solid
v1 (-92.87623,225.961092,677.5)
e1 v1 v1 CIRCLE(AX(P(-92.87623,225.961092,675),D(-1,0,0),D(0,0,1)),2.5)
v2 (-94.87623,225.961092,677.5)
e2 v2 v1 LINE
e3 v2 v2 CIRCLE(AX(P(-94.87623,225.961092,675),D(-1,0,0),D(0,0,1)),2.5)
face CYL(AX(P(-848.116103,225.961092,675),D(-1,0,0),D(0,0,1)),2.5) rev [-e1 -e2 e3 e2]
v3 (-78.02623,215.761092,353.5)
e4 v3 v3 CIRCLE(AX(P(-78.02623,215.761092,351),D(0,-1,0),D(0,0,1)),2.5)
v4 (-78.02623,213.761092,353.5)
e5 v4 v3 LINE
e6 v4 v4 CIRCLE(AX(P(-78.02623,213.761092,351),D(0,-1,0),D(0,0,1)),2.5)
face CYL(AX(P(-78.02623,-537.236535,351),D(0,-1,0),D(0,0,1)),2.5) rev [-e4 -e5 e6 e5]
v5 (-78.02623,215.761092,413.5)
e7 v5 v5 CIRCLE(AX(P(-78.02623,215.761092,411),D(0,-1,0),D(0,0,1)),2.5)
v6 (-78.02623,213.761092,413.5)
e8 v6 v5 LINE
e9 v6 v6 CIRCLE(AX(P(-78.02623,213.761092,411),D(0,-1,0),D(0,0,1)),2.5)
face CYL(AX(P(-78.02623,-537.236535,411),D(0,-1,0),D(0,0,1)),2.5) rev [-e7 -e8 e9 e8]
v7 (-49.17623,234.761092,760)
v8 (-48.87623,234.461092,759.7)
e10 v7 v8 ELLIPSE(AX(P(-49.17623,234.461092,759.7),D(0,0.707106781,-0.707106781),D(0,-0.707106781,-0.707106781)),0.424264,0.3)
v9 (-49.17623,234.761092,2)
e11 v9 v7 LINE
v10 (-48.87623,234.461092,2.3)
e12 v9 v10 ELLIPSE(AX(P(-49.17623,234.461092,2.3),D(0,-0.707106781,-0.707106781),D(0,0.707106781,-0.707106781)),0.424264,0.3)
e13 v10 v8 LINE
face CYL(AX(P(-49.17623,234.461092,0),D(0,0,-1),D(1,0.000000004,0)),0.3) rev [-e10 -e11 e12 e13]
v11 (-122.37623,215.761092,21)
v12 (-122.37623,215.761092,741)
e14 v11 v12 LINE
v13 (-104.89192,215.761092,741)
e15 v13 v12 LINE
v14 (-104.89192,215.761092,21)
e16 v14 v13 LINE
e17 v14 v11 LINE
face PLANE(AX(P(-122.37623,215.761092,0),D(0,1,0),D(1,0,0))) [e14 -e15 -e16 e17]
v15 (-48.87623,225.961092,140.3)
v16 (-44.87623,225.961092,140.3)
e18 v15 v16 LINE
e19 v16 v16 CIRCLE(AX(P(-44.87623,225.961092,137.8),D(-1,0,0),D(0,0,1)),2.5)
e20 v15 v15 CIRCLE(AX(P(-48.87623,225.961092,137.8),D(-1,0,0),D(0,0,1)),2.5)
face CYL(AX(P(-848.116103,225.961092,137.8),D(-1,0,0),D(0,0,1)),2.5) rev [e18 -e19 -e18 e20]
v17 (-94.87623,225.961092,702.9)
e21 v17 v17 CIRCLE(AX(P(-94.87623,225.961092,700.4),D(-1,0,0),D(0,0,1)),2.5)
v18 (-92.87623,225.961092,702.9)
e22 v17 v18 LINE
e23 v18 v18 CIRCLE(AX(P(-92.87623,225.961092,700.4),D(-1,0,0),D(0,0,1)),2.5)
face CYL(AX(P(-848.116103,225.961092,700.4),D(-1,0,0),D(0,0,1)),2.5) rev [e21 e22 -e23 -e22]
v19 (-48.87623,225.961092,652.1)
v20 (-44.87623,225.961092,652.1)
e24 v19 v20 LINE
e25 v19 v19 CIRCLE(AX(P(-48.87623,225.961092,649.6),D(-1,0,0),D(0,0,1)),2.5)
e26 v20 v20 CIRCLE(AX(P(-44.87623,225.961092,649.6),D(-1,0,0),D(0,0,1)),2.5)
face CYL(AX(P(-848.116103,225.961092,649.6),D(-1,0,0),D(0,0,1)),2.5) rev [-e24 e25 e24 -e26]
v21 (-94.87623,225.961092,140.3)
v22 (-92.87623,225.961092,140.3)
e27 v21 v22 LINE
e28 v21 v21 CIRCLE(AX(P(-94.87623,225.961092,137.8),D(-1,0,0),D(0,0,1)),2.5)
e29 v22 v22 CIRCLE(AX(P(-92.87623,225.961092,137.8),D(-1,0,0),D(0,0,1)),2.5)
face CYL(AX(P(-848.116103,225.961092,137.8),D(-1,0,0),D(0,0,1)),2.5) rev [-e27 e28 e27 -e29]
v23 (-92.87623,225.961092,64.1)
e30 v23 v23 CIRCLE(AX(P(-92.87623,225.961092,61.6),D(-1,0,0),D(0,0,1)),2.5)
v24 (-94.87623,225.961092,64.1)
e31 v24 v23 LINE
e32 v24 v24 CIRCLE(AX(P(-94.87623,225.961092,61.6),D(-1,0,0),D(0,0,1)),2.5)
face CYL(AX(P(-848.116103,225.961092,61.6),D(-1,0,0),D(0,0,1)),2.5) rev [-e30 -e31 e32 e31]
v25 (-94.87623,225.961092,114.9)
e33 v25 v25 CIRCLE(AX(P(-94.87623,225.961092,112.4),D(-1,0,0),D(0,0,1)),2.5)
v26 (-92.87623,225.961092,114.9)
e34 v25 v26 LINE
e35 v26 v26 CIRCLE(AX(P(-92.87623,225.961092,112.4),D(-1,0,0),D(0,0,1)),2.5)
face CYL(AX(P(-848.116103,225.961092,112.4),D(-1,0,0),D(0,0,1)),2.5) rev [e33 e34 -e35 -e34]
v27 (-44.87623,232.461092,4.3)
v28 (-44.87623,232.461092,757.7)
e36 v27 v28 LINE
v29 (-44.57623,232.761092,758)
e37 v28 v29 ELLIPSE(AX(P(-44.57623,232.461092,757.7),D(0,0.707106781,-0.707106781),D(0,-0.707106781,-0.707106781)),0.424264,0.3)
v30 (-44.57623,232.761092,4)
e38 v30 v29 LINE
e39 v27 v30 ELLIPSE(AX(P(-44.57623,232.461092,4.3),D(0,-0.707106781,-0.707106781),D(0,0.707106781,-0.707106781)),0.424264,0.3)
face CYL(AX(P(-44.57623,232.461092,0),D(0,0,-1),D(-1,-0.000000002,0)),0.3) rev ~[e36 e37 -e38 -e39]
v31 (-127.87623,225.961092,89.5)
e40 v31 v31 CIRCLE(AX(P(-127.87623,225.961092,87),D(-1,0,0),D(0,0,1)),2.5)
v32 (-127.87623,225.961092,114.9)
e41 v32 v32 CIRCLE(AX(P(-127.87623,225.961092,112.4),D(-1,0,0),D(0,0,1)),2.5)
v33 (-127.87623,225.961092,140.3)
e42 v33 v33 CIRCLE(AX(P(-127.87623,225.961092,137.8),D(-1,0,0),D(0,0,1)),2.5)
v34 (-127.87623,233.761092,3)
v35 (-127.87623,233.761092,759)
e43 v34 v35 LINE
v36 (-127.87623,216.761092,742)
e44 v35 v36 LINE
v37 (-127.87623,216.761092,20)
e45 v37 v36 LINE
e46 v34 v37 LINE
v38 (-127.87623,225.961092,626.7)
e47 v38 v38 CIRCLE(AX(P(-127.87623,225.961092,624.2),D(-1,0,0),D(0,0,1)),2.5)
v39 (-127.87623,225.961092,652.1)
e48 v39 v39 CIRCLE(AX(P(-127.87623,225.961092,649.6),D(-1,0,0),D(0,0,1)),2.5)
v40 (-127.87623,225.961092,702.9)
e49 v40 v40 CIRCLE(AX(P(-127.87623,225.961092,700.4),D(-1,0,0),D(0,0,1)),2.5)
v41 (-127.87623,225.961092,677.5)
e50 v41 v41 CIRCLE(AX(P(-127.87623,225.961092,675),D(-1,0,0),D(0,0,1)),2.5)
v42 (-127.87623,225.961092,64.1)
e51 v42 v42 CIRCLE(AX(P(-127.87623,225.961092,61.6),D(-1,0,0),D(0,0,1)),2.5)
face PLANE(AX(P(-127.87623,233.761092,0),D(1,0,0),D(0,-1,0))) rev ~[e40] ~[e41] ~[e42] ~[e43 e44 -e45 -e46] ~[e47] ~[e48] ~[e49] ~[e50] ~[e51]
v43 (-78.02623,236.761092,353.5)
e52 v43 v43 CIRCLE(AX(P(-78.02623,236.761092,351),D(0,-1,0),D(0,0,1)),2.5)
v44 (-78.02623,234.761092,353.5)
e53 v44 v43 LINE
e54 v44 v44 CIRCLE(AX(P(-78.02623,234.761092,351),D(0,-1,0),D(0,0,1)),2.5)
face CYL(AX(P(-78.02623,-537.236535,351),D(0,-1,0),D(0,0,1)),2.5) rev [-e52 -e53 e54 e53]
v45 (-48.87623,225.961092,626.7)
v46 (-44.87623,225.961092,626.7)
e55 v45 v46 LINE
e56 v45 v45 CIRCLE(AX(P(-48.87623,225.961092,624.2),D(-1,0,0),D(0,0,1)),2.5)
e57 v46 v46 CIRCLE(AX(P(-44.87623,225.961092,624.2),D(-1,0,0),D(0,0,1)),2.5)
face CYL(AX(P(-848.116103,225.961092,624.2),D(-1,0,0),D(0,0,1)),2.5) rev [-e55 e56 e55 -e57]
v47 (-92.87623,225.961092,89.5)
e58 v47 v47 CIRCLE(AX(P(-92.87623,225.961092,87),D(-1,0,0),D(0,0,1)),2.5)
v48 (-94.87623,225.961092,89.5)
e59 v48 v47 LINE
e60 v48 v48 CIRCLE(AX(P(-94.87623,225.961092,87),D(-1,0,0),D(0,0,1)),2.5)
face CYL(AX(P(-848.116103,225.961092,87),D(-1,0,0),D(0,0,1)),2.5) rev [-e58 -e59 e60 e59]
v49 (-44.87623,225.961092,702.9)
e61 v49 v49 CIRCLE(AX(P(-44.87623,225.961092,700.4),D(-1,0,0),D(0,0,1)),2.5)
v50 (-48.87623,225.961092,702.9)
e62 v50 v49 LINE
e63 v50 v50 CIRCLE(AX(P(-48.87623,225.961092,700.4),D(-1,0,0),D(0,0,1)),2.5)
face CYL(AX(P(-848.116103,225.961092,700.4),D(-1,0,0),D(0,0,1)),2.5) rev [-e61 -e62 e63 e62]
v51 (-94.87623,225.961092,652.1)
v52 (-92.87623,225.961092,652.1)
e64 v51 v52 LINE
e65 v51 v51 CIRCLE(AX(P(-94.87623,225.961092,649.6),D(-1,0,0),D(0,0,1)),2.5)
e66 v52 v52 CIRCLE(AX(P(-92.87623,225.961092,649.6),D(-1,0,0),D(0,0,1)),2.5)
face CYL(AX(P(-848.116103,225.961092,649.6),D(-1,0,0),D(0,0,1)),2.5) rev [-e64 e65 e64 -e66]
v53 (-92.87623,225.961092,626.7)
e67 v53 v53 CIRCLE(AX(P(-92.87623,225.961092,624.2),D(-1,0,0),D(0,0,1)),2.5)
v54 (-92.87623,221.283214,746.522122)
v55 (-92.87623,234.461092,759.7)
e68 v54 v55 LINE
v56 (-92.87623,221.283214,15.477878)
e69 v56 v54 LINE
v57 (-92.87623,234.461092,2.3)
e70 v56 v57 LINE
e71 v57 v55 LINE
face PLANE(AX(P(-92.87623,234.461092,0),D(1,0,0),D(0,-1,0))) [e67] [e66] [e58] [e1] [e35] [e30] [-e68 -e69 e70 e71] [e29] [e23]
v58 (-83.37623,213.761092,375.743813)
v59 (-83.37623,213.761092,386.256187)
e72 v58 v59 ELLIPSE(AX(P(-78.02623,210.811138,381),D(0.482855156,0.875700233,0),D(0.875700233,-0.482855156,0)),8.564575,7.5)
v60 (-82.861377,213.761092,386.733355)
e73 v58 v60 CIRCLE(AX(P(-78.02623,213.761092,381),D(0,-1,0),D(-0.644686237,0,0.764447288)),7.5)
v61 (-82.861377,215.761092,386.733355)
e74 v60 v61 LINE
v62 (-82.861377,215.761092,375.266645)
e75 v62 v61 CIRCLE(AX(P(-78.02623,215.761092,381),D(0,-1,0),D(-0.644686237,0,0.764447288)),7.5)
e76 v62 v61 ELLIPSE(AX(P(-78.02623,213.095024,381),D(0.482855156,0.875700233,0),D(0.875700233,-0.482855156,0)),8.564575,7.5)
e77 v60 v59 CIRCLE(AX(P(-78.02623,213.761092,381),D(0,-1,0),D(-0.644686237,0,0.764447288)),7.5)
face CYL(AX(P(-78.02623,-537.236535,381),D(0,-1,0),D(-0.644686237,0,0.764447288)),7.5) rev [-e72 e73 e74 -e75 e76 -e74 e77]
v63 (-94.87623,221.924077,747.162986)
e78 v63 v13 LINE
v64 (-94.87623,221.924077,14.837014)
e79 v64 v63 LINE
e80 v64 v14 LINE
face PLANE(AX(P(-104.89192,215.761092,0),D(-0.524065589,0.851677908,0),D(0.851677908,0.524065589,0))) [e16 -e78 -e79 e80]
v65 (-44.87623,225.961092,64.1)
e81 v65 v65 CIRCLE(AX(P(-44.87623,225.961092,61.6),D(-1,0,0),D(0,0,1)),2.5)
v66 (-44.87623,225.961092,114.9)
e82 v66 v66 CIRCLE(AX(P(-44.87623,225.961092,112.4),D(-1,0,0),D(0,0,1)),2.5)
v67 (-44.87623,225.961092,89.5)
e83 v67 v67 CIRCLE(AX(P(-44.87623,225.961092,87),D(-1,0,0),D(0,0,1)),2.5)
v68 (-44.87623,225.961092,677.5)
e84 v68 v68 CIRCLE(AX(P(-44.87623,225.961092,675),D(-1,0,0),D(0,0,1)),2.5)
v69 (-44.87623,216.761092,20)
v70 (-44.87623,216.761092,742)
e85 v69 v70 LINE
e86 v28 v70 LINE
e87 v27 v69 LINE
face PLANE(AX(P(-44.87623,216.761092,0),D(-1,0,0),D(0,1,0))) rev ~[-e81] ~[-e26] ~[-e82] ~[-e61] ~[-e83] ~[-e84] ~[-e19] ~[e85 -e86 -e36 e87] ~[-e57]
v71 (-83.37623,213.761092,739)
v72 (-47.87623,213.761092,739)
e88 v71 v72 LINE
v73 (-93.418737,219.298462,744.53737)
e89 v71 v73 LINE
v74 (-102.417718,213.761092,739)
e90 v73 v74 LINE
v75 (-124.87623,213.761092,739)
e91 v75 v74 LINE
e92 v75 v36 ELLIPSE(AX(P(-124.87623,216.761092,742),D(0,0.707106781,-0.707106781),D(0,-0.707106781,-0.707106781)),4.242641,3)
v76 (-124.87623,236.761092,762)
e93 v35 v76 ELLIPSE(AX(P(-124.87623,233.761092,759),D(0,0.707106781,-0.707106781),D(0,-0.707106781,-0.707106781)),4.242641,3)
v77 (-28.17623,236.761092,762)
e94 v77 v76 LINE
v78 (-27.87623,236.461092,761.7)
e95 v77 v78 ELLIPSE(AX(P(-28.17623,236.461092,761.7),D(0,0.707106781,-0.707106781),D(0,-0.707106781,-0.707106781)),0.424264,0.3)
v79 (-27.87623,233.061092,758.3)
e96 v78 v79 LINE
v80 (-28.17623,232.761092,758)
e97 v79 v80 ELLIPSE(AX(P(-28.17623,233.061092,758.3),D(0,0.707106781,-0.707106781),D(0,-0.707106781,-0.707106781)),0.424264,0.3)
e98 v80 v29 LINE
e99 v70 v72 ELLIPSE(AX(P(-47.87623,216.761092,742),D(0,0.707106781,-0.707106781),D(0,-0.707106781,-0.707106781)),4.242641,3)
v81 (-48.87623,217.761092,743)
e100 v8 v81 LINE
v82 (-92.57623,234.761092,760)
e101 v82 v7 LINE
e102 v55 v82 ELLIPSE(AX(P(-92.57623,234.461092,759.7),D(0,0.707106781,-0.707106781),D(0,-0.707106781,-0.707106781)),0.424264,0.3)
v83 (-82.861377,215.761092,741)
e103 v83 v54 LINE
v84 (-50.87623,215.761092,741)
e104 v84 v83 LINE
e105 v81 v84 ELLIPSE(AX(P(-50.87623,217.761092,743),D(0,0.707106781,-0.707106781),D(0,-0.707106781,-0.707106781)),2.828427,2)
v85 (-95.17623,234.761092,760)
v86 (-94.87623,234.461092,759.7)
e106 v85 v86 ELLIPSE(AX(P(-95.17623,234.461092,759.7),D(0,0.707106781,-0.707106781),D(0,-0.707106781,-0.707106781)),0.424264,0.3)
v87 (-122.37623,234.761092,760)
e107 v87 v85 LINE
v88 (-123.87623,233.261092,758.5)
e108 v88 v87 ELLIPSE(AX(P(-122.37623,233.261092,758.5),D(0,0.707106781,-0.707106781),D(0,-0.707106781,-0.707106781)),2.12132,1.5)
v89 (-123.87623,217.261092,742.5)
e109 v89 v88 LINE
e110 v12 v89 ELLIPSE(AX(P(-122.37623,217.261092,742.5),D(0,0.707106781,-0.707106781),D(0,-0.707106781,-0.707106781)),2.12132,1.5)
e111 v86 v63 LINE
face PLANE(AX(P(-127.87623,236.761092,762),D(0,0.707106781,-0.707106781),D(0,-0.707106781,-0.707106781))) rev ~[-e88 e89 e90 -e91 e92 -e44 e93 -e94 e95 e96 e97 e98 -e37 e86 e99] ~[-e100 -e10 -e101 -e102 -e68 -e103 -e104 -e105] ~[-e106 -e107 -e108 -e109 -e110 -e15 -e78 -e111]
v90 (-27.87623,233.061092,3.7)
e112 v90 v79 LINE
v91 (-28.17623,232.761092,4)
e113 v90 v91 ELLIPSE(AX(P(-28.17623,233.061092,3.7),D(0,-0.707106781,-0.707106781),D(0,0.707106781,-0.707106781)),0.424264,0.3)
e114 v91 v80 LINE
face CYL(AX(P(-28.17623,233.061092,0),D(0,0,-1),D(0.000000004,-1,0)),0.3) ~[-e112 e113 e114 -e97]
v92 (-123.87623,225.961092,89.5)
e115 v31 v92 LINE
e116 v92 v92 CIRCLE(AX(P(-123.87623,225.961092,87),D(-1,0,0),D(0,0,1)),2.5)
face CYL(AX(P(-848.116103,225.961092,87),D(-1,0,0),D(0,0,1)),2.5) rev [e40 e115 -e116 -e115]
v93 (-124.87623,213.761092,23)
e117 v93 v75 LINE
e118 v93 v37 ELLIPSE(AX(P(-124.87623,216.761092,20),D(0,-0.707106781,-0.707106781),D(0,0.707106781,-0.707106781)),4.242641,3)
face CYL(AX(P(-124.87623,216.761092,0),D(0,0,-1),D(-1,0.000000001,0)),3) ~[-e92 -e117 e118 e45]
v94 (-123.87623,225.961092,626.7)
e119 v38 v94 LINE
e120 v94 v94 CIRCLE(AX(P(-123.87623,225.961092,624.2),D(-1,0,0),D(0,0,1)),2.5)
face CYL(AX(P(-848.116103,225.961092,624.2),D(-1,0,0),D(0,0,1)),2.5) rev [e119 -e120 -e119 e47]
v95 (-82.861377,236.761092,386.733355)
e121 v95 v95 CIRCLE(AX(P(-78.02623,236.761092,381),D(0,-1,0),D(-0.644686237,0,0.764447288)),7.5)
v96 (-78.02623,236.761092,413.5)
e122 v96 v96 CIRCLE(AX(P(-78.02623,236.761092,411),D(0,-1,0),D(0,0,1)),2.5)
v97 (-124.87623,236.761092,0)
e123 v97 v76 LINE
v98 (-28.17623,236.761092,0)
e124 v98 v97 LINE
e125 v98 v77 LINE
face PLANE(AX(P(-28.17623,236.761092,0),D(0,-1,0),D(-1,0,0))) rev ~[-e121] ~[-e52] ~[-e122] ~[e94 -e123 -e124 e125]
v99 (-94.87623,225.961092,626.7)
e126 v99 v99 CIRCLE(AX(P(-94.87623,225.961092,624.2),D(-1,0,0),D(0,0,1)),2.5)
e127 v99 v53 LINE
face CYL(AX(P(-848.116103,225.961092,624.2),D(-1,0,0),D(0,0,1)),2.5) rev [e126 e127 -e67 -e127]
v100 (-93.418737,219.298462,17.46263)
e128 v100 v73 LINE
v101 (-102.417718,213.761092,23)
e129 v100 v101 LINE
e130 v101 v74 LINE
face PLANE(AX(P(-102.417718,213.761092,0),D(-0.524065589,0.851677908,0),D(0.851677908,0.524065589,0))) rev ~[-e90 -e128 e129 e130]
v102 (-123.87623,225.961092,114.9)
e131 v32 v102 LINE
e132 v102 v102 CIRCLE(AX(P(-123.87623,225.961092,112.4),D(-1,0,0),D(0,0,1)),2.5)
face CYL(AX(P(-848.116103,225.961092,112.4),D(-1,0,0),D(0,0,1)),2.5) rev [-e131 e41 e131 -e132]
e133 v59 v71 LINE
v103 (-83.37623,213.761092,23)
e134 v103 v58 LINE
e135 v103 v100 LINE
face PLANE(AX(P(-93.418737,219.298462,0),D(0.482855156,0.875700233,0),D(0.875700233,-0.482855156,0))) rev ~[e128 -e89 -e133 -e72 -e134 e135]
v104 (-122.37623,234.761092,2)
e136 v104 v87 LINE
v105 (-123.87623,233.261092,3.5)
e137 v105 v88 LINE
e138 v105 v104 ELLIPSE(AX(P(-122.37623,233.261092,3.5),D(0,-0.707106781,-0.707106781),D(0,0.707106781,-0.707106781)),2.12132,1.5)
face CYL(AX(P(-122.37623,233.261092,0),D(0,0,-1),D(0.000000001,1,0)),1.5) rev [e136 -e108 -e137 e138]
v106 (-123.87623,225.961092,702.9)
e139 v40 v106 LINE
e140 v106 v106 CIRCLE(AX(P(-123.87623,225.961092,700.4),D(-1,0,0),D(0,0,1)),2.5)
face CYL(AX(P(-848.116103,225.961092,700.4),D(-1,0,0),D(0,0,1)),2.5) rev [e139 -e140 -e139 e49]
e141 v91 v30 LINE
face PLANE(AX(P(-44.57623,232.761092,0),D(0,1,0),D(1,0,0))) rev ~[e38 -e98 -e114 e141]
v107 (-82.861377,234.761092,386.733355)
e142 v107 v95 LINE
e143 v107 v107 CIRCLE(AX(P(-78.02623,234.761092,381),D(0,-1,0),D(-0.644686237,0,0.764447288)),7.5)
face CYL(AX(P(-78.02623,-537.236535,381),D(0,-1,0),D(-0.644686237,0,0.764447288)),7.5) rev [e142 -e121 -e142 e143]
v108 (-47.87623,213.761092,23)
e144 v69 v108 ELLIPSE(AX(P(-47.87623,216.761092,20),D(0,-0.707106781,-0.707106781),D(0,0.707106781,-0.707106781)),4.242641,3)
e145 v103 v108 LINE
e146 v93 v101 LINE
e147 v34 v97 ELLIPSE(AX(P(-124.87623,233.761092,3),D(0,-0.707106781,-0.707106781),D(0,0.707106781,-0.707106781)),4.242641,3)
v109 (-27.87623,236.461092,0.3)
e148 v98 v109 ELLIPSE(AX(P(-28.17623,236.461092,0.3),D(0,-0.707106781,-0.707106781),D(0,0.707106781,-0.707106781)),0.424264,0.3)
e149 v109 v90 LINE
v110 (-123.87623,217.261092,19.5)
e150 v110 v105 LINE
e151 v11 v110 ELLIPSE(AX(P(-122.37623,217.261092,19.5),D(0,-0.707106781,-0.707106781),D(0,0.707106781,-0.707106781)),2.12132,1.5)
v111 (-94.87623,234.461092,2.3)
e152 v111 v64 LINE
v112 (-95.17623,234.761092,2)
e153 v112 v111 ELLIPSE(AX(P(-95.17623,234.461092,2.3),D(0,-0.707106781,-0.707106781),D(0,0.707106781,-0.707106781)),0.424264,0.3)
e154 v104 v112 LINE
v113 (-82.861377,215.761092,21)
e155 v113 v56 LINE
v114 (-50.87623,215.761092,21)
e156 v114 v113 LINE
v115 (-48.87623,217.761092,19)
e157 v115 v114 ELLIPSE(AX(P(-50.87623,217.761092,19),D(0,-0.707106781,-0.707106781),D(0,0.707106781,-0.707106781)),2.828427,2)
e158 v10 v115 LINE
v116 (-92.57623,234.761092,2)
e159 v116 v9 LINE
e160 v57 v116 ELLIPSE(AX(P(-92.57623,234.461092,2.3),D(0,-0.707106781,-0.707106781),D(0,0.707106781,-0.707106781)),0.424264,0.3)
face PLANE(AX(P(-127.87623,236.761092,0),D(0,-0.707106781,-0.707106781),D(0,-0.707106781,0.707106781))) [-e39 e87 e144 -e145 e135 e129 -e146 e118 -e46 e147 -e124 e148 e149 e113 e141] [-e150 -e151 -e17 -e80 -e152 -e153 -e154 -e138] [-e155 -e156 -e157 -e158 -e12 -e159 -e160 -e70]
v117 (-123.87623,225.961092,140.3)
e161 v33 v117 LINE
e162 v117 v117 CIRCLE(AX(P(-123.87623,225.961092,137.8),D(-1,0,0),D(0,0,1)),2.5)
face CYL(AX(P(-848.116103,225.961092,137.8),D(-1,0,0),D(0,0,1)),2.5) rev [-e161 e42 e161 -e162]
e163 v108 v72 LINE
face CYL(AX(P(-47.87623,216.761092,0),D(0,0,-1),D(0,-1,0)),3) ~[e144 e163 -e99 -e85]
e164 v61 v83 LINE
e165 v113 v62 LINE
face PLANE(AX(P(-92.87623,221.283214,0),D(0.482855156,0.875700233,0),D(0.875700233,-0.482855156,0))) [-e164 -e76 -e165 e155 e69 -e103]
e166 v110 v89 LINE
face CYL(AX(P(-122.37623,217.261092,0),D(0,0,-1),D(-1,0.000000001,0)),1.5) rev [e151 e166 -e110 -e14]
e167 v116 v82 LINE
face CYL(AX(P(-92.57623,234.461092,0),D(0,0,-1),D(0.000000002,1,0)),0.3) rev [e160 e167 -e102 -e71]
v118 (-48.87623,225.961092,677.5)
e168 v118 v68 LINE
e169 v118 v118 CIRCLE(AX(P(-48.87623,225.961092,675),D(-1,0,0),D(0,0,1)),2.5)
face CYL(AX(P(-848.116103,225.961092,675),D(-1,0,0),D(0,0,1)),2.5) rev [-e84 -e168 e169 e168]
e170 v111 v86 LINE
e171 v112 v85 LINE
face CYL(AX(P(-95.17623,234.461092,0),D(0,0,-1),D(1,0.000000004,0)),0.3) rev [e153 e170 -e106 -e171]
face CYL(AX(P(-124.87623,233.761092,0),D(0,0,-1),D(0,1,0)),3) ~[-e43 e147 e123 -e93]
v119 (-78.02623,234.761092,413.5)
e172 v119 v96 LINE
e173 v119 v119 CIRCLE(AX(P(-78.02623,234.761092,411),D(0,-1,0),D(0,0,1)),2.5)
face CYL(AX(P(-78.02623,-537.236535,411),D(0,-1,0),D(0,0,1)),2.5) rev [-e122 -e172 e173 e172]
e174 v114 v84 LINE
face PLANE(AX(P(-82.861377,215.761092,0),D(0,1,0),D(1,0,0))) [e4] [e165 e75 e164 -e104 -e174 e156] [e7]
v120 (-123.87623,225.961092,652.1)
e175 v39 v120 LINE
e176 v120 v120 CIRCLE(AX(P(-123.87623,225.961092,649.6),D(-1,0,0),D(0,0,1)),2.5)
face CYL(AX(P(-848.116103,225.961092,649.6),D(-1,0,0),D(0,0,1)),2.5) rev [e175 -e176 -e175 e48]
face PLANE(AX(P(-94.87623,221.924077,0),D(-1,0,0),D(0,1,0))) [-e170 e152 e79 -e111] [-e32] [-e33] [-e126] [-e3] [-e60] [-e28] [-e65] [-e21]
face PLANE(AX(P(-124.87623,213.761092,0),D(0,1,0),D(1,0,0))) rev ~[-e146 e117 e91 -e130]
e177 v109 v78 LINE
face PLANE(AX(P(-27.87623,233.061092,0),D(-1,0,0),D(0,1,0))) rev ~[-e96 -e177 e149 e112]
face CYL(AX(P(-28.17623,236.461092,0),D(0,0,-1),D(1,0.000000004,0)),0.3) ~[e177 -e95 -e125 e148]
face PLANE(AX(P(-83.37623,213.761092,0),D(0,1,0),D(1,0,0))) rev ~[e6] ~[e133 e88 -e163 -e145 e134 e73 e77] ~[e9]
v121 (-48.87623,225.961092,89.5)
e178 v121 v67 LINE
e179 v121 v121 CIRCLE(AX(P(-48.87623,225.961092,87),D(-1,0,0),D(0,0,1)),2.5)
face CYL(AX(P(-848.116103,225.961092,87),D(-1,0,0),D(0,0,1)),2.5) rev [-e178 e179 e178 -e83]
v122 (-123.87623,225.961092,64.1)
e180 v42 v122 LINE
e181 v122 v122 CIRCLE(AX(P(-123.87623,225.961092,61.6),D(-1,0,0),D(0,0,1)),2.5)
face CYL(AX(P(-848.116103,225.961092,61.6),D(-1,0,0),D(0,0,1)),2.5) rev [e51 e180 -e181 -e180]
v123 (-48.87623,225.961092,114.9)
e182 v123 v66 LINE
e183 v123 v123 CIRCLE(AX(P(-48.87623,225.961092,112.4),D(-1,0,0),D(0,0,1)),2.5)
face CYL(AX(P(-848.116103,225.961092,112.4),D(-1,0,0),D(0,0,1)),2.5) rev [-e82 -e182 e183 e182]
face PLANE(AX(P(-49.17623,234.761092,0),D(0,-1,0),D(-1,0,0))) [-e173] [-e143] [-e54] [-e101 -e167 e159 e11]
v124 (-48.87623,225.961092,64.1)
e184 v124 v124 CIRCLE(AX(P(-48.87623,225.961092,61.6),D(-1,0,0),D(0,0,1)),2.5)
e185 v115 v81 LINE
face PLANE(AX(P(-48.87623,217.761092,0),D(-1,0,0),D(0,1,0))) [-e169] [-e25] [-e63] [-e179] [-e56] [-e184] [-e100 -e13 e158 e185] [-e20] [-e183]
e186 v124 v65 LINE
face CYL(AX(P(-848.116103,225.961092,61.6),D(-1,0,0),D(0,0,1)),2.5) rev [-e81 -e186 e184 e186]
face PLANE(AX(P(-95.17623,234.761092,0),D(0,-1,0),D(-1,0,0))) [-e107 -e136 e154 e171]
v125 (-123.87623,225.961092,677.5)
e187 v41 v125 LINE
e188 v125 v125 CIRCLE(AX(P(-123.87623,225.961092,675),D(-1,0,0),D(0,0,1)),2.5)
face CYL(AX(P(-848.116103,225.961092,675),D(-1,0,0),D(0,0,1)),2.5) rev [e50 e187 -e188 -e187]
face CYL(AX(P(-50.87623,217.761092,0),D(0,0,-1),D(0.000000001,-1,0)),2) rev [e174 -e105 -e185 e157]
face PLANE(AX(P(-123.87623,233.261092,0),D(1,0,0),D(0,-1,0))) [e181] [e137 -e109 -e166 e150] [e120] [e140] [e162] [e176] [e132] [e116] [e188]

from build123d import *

# Parameters (mm, degrees)
BOSS_EXTRUDE1_DEPTH     = 762
CUT_EXTRUDE1_DEPTH      = 805.176482163
CUT_EXTRUDE2_DEPTH      = 803.239873394
CUT_EXTRUDE2_DEPTH_BACK = 803.239873394
SKETCH4_R               = 2.5
CUT_EXTRUDE3_DEPTH      = 773.997626217
CUT_EXTRUDE3_DEPTH_BACK = 773.997626217
SKETCH5_R               = 7.5
SKETCH5_R_2             = 2.5


with BuildPart() as part:
    # Sketch2 → Boss-Extrude1 (new body)
    with BuildSketch(Plane.XY):
        with BuildLine():
            Line((-28.176229758, 236.761091532), (-124.876229758, 236.761091532))
            ThreePointArc((-124.876229758, 236.761091532), (-126.997550102, 235.882411875), (-127.876229758, 233.761091532))
            Line((-127.876229758, 233.761091532), (-127.876229758, 216.761091532))
            ThreePointArc((-127.876229758, 216.761091532), (-126.997550102, 214.639771188), (-124.876229758, 213.761091532))
            Line((-124.876229758, 213.761091532), (-102.417718129, 213.761091532))
            Line((-102.417718129, 213.761091532), (-93.418737463, 219.298462014))
            Line((-93.418737463, 219.298462014), (-83.376229758, 213.761091532))
            Line((-83.376229758, 213.761091532), (-47.876229758, 213.761091532))
            ThreePointArc((-47.876229758, 213.761091532), (-45.754909415, 214.639771188), (-44.876229758, 216.761091532))
            Line((-44.876229758, 216.761091532), (-44.876229758, 232.461091532))
            ThreePointArc((-44.876229758, 232.461091532), (-44.788361793, 232.673223566), (-44.576229758, 232.761091532))
            Line((-44.576229758, 232.761091532), (-28.176229758, 232.761091532))
            ThreePointArc((-28.176229758, 232.761091532), (-27.964097724, 232.848959498), (-27.876229758, 233.061091532))
            Line((-27.876229758, 233.061091532), (-27.876229758, 236.461091532))
            ThreePointArc((-27.876229758, 236.461091532), (-27.964097724, 236.673223566), (-28.176229758, 236.761091532))
        make_face()
        with BuildLine():
            Line((-49.176229758, 234.761091532), (-92.576229758, 234.761091532))
            ThreePointArc((-92.576229758, 234.761091532), (-92.788361793, 234.673223566), (-92.876229758, 234.461091532))
            Line((-92.876229758, 234.461091532), (-92.876229758, 221.283213521))
            Line((-92.876229758, 221.283213521), (-82.861376535, 215.761091532))
            Line((-82.861376535, 215.761091532), (-50.876229758, 215.761091532))
            ThreePointArc((-50.876229758, 215.761091532), (-49.462016196, 216.34687797), (-48.876229758, 217.761091532))
            Line((-48.876229758, 217.761091532), (-48.876229758, 234.461091532))
            ThreePointArc((-48.876229758, 234.461091532), (-48.964097724, 234.673223566), (-49.176229758, 234.761091532))
        make_face(mode=Mode.SUBTRACT)
        with BuildLine():
            Line((-95.176229758, 234.761091532), (-122.376229758, 234.761091532))
            ThreePointArc((-122.376229758, 234.761091532), (-123.43688993, 234.321751704), (-123.876229758, 233.261091532))
            Line((-123.876229758, 233.261091532), (-123.876229758, 217.261091532))
            ThreePointArc((-123.876229758, 217.261091532), (-123.43688993, 216.20043136), (-122.376229758, 215.761091532))
            Line((-122.376229758, 215.761091532), (-104.891920236, 215.761091532))
            Line((-104.891920236, 215.761091532), (-94.876229758, 221.924077192))
            Line((-94.876229758, 221.924077192), (-94.876229758, 234.461091532))
            ThreePointArc((-94.876229758, 234.461091532), (-94.964097724, 234.673223566), (-95.176229758, 234.761091532))
        make_face(mode=Mode.SUBTRACT)
    extrude(amount=BOSS_EXTRUDE1_DEPTH)

    # Sketch3 → Cut-Extrude1 (cut, through all)
    with BuildSketch(Plane.ZY.offset(127.876229758)):
        Polygon((0, 236.761091532), (23, 213.761091532), (0, 213.761091532), align=None)
        Polygon((762, 236.761091532), (739, 213.761091532), (762, 213.761091532), align=None)
    extrude(amount=-CUT_EXTRUDE1_DEPTH, mode=Mode.SUBTRACT)

    # Sketch4 → Cut-Extrude2 (cut, two sides: drawn at the far end of the back side and taken through both)
    with BuildSketch(Plane(origin=(-44.876229758, 0, 0), x_dir=(0, 0, -1), z_dir=(1, 0, 0)).offset(-CUT_EXTRUDE2_DEPTH_BACK)):
        with Locations(Location((-700.4, 225.961091532, 0), (0, 0, 180))):
            Circle(SKETCH4_R)
        with Locations(Location((-675, 225.961091532, 0), (0, 0, 180))):
            Circle(SKETCH4_R)
        with Locations(Location((-649.6, 225.961091532, 0), (0, 0, 180))):
            Circle(SKETCH4_R)
        with Locations(Location((-624.2, 225.961091532, 0), (0, 0, 180))):
            Circle(SKETCH4_R)
        with Locations(Location((-137.8, 225.961091532, 0), (0, 0, 180))):
            Circle(SKETCH4_R)
        with Locations(Location((-112.4, 225.961091532, 0), (0, 0, 180))):
            Circle(SKETCH4_R)
        with Locations(Location((-87, 225.961091532, 0), (0, 0, 180))):
            Circle(SKETCH4_R)
        with Locations(Location((-61.6, 225.961091532, 0), (0, 0, 180))):
            Circle(SKETCH4_R)
    extrude(amount=CUT_EXTRUDE2_DEPTH + CUT_EXTRUDE2_DEPTH_BACK, mode=Mode.SUBTRACT)

    # Sketch5 → Cut-Extrude3 (cut, two sides: drawn at the far end of the back side and taken through both)
    with BuildSketch(Plane(origin=(0, 236.761091532, 0), x_dir=(1, 0, 0), z_dir=(0, 1, 0)).offset(-CUT_EXTRUDE3_DEPTH_BACK)):
        with Locations(Location((-78.026229758, -381, 0), (0, 0, 229.857845338))):
            Circle(SKETCH5_R)
        with Locations(Location((-78.026229758, -351, 0), (0, 0, 270))):
            Circle(SKETCH5_R_2)
        with Locations(Location((-78.026229758, -411, 0), (0, 0, 270))):
            Circle(SKETCH5_R_2)
    extrude(amount=CUT_EXTRUDE3_DEPTH + CUT_EXTRUDE3_DEPTH_BACK, mode=Mode.SUBTRACT)


solid = part.part
